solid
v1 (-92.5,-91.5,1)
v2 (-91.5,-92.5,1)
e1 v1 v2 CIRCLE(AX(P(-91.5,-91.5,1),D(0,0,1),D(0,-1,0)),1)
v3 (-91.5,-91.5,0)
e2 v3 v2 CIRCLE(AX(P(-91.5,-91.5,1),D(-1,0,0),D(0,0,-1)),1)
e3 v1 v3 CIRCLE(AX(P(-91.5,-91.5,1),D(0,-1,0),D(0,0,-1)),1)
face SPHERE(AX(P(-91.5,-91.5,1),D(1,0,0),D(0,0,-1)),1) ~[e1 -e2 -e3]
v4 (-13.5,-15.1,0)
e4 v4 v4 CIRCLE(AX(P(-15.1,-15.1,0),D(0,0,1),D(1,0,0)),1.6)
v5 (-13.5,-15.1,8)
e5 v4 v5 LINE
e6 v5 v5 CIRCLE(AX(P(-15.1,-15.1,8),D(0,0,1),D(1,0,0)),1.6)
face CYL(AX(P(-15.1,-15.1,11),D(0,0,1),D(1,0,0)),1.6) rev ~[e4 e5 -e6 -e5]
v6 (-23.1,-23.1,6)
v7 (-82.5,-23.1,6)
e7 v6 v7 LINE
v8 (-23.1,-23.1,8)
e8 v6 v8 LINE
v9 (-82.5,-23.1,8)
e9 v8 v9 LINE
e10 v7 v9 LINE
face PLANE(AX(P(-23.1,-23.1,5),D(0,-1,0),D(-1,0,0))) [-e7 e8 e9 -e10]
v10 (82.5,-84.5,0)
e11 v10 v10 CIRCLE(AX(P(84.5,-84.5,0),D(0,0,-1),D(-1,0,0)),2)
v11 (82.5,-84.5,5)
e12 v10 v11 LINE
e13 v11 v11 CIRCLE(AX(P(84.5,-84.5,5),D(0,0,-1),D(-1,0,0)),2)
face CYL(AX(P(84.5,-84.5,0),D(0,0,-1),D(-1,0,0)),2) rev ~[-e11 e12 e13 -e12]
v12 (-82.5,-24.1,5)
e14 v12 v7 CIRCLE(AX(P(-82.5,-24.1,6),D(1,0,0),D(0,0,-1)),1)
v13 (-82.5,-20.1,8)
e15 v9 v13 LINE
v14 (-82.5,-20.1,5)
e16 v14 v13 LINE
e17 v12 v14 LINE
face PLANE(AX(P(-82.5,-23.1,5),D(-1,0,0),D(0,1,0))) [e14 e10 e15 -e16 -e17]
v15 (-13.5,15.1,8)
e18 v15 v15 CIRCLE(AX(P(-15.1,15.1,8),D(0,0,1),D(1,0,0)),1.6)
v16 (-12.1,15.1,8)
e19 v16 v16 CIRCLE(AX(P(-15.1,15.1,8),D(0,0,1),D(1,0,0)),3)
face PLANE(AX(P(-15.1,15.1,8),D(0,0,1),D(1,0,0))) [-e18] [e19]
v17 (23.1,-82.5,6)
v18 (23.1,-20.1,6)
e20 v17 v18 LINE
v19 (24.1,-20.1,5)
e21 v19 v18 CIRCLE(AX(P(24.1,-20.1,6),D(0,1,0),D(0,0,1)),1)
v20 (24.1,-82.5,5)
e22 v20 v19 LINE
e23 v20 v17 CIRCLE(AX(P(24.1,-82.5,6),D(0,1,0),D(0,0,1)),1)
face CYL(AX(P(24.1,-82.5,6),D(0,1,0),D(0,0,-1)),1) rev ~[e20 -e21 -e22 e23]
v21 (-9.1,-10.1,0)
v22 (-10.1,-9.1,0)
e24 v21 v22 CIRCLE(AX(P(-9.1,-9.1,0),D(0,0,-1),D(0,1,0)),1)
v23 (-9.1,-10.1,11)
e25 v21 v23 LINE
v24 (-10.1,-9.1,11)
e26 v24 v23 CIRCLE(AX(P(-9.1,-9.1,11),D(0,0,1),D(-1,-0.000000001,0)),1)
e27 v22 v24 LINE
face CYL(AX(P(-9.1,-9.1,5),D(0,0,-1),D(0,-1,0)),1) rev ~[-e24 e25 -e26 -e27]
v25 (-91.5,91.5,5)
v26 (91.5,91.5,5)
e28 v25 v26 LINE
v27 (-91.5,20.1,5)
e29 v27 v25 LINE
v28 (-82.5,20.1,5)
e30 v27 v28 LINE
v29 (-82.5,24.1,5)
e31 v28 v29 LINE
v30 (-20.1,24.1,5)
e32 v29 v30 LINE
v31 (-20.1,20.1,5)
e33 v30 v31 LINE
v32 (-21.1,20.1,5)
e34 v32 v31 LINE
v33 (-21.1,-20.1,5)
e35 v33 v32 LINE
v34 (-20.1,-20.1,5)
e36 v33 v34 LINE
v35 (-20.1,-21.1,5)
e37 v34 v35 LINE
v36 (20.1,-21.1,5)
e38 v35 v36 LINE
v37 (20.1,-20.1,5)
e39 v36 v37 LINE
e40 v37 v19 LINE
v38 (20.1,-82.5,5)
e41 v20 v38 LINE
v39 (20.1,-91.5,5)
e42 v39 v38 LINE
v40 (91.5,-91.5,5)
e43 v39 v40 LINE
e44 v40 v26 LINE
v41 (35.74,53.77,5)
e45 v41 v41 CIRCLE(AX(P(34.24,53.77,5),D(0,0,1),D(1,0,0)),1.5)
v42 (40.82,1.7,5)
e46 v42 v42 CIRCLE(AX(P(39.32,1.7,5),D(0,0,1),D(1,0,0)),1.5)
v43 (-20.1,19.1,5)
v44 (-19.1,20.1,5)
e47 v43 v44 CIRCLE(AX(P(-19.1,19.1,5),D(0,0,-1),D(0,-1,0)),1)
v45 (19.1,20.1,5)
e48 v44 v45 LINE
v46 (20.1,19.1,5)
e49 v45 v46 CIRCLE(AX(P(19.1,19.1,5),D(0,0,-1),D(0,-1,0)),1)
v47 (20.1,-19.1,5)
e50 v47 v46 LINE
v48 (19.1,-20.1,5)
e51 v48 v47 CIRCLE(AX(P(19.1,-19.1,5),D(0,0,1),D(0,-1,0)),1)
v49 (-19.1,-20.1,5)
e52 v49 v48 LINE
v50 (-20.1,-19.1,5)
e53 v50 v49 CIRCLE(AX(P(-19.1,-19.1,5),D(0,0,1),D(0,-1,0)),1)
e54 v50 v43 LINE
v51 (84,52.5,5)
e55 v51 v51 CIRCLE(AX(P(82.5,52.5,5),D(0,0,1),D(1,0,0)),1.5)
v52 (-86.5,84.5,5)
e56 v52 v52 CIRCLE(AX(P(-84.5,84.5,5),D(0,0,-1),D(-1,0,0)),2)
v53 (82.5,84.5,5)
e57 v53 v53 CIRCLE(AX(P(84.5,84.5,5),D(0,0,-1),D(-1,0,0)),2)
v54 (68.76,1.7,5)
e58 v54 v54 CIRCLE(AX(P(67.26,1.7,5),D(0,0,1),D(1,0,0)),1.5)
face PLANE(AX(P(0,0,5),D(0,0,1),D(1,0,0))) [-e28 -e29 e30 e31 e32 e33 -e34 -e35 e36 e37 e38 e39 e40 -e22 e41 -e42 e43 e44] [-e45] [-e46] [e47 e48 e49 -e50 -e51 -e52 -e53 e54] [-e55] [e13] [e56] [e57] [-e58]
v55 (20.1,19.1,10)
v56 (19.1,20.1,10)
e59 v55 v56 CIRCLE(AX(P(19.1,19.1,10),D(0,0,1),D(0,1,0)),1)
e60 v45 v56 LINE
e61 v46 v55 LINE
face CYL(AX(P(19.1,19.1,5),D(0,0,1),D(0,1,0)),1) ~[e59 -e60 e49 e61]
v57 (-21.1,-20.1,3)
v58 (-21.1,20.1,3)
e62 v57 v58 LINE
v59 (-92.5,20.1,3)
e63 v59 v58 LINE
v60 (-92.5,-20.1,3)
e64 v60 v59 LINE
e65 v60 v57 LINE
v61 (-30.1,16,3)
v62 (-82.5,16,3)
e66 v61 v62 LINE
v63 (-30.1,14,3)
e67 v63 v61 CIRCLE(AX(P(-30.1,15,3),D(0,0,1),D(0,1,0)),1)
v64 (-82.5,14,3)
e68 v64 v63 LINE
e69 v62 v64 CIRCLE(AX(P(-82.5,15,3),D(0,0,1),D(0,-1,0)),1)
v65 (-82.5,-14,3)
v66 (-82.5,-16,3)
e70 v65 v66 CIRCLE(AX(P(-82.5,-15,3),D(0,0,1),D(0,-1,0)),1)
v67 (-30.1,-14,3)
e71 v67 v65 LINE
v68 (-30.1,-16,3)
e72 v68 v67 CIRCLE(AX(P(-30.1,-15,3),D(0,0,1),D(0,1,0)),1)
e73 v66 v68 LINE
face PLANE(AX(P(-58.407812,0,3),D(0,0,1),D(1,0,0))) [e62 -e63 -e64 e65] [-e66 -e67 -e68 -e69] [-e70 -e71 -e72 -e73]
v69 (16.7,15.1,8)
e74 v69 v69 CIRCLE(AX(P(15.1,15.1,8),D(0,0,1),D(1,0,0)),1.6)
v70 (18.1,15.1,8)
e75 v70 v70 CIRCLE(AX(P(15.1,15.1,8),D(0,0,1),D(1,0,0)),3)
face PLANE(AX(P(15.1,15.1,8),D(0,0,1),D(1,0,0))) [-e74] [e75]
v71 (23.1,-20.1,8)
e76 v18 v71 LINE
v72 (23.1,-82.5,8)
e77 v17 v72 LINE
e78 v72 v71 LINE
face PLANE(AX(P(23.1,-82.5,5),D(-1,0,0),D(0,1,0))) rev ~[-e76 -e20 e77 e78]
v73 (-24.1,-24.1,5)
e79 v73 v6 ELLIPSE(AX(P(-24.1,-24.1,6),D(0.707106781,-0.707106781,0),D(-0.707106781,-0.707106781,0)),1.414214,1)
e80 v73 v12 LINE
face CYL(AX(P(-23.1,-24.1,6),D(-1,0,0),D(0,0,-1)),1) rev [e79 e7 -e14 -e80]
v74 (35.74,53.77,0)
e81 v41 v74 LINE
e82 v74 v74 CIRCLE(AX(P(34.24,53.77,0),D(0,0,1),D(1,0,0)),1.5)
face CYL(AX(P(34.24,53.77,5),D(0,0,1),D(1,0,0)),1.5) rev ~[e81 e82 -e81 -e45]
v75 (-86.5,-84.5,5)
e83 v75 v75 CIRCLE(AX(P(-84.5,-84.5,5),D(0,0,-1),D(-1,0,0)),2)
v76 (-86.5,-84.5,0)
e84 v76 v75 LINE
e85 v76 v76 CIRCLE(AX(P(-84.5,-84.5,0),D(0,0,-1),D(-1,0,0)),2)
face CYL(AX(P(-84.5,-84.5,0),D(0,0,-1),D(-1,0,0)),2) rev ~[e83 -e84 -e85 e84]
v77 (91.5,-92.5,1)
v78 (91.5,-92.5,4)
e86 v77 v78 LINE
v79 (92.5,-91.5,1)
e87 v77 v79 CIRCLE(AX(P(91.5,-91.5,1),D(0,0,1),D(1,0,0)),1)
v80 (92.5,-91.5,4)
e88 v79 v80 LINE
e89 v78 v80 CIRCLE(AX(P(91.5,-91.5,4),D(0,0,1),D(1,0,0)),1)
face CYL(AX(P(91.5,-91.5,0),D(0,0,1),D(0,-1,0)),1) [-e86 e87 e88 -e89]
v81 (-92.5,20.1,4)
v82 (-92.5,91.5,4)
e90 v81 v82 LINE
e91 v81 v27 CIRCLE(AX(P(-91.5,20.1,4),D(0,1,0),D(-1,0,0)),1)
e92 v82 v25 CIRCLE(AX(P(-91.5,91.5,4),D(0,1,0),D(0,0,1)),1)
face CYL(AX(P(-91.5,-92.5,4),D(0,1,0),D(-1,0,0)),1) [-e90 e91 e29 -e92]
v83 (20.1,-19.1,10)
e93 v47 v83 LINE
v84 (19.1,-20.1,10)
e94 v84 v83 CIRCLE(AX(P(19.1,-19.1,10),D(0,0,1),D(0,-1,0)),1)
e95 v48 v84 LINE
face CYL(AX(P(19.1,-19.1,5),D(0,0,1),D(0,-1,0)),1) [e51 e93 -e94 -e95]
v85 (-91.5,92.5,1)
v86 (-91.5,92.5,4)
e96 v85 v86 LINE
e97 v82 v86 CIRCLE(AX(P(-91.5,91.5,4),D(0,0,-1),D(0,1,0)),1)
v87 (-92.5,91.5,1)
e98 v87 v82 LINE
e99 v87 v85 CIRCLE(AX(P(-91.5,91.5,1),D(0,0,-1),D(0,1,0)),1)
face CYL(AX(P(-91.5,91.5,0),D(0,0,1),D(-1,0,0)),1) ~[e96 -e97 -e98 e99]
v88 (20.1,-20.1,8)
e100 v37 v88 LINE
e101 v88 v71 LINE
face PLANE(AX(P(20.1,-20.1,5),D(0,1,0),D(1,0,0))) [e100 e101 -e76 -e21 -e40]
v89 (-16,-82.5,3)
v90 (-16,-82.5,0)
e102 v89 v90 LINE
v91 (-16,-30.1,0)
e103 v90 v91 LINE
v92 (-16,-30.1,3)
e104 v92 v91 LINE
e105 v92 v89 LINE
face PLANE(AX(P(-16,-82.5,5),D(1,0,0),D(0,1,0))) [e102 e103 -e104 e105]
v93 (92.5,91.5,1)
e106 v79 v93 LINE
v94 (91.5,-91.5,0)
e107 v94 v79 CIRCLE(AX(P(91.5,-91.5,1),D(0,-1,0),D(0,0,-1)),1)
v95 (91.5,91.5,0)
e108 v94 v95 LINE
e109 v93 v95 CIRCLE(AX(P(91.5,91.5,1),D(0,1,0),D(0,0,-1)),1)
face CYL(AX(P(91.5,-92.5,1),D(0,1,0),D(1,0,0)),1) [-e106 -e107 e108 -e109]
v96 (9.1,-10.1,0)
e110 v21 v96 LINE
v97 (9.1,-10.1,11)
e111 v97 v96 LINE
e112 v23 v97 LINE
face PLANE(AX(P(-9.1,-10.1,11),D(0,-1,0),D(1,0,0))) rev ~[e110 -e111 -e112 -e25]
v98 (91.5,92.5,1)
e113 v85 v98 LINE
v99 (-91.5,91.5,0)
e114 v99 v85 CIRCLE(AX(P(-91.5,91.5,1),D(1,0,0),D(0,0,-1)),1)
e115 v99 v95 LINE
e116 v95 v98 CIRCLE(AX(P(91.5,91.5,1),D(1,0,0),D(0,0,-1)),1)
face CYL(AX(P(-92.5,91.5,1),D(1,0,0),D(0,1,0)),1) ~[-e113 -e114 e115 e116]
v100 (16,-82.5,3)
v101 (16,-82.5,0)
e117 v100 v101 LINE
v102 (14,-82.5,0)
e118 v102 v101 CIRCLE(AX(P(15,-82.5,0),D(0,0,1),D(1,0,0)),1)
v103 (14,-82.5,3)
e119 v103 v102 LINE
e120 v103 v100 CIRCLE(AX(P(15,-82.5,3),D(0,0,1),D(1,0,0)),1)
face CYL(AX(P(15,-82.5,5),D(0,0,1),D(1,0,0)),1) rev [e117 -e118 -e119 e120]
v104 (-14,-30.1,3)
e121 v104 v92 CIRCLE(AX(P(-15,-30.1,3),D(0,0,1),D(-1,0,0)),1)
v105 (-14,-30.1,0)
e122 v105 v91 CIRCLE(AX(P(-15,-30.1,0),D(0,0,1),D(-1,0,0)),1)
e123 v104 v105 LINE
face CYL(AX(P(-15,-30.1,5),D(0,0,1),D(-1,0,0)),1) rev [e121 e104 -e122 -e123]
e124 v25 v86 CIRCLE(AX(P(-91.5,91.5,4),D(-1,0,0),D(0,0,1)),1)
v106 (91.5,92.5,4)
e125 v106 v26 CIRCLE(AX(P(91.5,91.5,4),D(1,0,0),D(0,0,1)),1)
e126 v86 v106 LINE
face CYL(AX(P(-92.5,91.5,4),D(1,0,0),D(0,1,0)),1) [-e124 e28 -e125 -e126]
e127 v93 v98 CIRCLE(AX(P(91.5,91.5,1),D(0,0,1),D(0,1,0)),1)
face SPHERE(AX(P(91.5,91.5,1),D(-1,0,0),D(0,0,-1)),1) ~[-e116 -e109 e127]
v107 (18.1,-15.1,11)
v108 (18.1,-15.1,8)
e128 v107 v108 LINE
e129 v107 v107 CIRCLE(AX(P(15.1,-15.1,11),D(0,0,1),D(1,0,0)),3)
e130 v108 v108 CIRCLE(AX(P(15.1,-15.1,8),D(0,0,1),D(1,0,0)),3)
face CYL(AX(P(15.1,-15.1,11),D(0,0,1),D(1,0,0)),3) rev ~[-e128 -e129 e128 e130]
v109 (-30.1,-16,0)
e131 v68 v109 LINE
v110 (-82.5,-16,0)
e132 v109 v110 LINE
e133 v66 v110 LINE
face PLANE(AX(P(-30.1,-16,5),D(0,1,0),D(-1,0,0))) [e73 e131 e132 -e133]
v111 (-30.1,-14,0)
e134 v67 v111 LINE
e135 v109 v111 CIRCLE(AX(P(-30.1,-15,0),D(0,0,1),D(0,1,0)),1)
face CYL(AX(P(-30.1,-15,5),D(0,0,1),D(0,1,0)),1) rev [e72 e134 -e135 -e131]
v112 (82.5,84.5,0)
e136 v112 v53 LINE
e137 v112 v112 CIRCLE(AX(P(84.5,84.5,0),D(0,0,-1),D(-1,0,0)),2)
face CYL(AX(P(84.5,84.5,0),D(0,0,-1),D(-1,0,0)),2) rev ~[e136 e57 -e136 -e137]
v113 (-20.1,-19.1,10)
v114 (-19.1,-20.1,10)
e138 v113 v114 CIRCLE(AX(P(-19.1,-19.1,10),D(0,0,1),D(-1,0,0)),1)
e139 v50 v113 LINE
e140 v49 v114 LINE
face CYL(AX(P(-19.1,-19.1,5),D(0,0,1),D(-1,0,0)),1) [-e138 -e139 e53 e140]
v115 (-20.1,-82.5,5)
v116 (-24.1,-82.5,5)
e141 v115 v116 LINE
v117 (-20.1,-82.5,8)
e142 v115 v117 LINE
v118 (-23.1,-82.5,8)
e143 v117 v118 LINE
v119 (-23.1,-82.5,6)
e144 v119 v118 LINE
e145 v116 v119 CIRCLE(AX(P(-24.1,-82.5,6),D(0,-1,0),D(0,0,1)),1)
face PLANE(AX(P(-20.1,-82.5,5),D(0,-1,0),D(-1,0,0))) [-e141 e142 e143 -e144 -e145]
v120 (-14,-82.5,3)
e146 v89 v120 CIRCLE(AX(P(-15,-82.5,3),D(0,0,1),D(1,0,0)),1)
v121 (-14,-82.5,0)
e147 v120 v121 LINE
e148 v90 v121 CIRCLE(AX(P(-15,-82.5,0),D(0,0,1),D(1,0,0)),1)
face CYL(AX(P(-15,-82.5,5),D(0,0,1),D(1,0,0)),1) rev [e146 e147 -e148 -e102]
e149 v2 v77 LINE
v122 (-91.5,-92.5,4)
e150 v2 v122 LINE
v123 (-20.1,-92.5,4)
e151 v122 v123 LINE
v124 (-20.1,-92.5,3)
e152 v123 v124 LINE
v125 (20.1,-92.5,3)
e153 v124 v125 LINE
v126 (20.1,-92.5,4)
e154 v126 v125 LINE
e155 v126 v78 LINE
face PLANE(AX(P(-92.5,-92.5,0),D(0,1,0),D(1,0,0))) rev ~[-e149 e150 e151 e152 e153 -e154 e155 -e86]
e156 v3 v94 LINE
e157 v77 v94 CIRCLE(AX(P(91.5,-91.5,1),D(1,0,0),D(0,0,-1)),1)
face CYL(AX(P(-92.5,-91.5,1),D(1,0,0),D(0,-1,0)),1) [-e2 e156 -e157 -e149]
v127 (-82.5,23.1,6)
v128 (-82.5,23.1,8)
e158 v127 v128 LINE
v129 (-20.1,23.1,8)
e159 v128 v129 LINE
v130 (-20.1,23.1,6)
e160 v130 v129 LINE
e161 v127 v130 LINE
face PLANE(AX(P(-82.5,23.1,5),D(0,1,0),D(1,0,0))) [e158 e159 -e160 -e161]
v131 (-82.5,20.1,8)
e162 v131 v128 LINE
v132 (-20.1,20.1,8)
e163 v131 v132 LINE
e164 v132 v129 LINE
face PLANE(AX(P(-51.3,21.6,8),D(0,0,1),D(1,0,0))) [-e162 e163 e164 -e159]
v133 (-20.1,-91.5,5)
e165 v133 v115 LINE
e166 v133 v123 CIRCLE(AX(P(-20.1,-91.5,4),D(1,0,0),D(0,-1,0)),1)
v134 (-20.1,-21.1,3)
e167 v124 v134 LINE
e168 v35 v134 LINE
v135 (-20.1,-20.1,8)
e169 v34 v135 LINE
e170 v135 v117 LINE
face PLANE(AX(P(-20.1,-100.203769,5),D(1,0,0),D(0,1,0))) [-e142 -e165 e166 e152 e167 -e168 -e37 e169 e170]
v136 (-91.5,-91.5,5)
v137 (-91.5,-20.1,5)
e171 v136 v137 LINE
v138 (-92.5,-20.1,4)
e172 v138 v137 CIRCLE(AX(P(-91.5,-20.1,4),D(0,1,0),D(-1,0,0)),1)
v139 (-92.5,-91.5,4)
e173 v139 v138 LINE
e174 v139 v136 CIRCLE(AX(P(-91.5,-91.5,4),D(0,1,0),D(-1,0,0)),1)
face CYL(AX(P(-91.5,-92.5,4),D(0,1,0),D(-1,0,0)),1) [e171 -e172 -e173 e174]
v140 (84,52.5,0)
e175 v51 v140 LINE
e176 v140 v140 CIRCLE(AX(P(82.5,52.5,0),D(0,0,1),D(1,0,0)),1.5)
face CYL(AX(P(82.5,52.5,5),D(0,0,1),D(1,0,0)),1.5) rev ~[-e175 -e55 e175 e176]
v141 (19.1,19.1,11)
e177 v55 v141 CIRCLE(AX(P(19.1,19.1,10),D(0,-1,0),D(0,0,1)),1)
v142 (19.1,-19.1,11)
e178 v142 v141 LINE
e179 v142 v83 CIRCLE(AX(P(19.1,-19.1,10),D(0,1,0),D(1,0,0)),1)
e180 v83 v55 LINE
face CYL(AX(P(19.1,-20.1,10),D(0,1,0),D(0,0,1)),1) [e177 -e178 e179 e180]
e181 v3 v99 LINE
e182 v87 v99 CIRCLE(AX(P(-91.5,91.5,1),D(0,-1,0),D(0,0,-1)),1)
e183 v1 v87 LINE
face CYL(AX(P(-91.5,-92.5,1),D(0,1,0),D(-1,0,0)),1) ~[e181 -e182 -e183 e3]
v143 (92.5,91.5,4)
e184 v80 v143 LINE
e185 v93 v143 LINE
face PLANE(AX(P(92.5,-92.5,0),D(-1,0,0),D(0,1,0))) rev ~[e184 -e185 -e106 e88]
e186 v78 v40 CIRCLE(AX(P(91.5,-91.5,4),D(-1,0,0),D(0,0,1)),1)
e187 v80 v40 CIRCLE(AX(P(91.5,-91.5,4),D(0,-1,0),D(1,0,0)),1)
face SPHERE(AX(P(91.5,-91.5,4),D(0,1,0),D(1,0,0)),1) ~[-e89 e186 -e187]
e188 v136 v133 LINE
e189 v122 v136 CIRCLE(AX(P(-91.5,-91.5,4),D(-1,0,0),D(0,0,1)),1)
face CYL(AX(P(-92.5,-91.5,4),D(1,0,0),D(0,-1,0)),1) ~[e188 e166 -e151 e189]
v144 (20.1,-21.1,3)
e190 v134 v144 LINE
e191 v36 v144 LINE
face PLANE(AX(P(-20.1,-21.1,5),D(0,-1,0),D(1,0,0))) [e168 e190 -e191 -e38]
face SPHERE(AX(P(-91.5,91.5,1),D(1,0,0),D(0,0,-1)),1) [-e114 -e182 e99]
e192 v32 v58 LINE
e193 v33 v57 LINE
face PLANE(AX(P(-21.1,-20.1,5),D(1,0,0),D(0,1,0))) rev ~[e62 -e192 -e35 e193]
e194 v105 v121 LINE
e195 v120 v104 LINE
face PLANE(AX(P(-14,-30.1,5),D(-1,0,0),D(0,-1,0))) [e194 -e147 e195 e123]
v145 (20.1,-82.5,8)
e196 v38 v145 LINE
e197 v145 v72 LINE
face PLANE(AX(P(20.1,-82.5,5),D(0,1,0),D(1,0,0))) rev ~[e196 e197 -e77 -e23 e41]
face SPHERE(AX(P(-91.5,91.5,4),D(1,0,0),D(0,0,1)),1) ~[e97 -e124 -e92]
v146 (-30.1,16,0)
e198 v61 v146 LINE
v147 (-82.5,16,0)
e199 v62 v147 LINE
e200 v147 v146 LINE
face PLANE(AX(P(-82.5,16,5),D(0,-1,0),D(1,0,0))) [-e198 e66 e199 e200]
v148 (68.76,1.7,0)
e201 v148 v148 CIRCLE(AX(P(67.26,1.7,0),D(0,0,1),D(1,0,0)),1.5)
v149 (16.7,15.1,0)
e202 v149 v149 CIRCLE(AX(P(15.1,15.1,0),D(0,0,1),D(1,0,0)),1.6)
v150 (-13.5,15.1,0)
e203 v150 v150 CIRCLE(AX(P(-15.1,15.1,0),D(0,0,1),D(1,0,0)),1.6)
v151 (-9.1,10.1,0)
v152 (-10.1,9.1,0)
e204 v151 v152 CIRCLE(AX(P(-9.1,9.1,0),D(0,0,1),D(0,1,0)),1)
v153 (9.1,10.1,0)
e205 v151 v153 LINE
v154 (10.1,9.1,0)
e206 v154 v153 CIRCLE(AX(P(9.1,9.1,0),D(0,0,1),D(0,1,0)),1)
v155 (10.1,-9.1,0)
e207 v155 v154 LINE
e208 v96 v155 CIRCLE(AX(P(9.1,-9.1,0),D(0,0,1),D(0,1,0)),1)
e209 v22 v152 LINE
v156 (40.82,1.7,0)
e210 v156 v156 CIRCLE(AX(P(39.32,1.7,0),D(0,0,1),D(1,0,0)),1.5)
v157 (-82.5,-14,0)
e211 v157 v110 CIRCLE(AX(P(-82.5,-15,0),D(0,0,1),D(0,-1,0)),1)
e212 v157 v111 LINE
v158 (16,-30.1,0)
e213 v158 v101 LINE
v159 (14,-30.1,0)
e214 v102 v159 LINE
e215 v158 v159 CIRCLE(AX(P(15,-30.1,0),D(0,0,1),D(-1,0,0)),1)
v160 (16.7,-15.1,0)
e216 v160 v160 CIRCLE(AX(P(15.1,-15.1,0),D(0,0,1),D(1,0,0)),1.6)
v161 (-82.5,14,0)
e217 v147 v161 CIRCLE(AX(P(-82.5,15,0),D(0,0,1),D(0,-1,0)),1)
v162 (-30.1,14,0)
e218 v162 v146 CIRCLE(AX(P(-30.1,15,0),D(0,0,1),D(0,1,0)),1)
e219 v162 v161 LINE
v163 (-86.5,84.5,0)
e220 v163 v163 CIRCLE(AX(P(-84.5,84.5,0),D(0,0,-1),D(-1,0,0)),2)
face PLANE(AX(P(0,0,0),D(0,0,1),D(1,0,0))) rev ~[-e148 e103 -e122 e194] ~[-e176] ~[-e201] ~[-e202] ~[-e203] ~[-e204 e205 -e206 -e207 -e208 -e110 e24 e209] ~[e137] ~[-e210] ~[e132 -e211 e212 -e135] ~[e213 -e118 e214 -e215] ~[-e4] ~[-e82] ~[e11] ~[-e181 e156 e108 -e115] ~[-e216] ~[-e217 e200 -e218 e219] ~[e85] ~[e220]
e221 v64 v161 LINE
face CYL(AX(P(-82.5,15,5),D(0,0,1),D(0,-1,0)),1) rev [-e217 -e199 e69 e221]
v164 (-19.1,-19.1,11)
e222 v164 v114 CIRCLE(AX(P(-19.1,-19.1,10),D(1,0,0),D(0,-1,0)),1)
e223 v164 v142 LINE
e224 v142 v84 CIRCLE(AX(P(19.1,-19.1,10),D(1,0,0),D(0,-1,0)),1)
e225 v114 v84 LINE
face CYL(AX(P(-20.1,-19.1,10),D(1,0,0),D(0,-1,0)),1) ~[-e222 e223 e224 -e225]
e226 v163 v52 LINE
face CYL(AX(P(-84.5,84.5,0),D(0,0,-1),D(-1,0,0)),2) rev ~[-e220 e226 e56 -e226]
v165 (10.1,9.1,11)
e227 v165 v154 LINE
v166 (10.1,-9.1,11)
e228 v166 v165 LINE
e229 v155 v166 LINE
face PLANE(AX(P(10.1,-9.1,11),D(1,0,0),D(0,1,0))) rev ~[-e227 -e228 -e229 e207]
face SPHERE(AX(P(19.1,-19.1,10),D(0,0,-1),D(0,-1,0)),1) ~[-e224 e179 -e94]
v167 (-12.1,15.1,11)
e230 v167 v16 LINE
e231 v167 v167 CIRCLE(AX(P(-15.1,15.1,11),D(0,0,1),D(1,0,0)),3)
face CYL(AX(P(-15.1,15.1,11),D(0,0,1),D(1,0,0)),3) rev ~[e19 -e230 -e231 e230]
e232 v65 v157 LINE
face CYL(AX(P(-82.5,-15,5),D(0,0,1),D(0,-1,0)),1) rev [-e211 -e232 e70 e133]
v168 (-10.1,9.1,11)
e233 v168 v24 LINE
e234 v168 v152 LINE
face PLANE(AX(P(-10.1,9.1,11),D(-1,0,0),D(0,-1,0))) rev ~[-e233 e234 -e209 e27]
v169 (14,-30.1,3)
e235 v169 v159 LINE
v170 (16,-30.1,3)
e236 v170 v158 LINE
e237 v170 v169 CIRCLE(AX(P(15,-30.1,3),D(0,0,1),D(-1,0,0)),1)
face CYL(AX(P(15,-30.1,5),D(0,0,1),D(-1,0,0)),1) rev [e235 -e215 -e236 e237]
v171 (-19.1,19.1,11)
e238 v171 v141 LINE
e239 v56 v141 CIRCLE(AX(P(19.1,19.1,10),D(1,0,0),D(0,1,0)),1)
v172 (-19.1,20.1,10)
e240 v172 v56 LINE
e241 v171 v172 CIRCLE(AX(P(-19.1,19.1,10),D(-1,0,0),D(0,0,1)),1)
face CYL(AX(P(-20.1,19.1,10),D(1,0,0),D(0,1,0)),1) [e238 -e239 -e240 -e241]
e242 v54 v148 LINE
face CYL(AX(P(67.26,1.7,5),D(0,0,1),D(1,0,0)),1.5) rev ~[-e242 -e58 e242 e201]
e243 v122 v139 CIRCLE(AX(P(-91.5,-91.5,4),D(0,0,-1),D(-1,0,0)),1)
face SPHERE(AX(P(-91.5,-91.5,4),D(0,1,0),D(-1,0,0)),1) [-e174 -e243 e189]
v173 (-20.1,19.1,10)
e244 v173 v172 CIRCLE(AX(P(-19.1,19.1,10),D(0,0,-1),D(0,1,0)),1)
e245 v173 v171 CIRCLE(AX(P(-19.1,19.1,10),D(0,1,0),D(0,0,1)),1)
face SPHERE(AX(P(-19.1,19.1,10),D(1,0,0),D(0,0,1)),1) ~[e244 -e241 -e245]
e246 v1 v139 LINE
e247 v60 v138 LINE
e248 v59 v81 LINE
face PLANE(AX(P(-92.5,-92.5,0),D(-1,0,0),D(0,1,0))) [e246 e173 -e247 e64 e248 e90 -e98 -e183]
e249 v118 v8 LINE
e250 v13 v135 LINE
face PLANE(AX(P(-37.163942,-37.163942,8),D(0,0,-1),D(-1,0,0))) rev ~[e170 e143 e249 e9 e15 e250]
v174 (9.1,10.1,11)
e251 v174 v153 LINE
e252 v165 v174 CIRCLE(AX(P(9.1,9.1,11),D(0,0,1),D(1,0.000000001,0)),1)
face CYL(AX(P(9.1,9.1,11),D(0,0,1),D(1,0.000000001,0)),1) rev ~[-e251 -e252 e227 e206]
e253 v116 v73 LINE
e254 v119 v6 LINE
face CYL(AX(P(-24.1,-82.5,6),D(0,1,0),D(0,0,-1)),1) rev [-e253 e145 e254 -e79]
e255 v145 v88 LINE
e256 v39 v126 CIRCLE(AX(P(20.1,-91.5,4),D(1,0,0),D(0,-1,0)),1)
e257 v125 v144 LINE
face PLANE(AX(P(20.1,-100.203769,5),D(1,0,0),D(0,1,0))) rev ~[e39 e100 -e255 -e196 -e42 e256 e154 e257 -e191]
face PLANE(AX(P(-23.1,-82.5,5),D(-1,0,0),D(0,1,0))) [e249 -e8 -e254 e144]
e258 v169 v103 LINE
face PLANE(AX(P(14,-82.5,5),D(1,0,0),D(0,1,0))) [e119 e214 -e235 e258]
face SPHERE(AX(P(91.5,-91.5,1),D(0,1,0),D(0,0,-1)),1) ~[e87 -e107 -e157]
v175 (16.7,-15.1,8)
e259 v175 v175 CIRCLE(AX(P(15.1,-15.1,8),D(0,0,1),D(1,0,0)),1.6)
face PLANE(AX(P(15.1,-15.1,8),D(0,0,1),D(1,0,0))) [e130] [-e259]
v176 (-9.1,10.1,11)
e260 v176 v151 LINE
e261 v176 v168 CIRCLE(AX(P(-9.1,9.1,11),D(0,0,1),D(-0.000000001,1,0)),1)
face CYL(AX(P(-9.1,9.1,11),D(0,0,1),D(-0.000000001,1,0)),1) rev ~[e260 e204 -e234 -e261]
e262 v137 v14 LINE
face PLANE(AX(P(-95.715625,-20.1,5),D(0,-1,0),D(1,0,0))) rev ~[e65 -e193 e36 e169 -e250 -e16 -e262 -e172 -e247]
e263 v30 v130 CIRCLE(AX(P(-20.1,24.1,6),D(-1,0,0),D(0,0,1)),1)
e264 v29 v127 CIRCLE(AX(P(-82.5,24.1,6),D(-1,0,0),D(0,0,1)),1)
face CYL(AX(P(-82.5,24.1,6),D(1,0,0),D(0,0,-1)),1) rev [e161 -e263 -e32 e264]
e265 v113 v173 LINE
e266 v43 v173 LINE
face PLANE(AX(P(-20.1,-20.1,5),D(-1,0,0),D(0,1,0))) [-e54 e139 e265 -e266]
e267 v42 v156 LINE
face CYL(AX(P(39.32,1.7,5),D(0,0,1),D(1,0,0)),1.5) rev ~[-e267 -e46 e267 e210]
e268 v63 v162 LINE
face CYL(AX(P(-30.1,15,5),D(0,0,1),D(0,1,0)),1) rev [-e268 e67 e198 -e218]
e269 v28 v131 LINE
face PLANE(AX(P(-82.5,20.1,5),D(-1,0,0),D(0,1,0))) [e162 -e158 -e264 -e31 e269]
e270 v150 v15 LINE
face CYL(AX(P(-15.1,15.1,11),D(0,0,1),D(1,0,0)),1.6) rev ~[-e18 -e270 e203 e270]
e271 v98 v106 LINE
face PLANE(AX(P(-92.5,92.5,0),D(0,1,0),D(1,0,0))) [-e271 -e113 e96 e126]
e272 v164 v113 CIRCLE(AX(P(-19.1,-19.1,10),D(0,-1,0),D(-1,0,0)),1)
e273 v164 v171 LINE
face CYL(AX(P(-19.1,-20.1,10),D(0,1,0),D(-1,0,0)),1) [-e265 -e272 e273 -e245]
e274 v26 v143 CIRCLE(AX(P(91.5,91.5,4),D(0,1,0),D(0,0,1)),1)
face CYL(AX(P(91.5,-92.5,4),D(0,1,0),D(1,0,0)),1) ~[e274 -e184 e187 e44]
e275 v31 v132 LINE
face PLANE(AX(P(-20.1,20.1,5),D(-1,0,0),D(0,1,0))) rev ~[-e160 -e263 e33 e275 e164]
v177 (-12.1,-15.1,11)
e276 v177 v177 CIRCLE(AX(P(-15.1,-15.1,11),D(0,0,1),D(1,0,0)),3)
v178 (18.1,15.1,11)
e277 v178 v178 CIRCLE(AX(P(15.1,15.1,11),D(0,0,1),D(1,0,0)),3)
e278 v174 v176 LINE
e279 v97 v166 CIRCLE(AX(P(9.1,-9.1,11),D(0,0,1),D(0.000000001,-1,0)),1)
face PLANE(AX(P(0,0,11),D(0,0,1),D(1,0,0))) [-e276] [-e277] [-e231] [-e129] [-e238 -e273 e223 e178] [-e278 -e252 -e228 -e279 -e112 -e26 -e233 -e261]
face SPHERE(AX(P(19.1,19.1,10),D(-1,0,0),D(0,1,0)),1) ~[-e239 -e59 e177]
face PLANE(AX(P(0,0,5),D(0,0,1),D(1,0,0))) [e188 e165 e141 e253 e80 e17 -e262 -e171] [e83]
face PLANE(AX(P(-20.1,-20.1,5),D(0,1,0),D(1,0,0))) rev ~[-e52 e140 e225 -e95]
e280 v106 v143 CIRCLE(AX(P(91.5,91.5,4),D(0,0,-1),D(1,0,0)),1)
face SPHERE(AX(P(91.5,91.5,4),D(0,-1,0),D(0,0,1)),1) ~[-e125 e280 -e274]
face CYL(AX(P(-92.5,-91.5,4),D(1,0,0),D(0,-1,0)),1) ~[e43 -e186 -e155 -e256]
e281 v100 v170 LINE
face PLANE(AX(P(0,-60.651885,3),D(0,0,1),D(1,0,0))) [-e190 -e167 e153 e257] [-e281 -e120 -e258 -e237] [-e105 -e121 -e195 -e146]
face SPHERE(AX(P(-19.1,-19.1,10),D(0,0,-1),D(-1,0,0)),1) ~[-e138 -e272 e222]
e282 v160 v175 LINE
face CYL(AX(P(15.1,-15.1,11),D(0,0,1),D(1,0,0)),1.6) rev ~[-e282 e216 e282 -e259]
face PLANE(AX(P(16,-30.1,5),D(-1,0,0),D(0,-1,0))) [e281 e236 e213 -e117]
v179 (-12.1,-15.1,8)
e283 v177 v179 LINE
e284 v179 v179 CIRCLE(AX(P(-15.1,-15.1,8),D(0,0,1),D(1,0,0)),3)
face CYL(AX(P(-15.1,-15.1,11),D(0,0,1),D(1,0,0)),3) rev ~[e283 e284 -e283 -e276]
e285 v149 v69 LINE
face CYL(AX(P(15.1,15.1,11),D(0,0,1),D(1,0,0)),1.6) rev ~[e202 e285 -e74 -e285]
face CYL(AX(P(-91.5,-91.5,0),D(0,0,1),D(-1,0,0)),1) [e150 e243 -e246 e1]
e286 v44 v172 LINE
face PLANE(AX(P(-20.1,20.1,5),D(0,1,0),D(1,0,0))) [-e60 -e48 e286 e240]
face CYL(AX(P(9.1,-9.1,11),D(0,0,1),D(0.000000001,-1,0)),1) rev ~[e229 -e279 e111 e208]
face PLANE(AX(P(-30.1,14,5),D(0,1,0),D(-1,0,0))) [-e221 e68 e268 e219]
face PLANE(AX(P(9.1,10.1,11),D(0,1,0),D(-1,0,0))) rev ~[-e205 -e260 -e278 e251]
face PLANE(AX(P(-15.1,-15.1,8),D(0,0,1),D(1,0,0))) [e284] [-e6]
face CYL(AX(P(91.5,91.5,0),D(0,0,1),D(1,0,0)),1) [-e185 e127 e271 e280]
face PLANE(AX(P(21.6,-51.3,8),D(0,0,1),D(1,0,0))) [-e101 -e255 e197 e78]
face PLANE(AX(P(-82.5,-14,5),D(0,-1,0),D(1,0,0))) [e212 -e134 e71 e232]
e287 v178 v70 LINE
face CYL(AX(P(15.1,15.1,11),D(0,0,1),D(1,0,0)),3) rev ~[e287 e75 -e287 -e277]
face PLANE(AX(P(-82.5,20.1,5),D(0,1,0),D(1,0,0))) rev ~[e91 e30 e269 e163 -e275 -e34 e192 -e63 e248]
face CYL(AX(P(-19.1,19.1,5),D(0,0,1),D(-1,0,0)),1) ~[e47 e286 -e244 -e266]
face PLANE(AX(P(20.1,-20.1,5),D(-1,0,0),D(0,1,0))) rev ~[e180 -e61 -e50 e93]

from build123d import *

# Parameters (mm, degrees)
ESQUISSE1_W                  = 185
ESQUISSE1_H                  = 185
BOSS_EXTRU_1_DEPTH           = 5
CONG_1_R                     = 1
ENL_V_MAT_EXTRU_4_REACH      = 7
ESQUISSE9_R                  = 2
ESQUISSE4_R                  = 1.6
ESQUISSE4_W                  = 20.2
ESQUISSE4_H                  = 20.2
ENL_V_MAT_EXTRU_5_DEPTH      = 1
ENL_V_MAT_EXTRU_5_DEPTH_BACK = 6
ESQUISSE11_W                 = 40.2
ESQUISSE11_H                 = 40.2
BOSS_EXTRU_3_DEPTH           = 6
CONG_2_R                     = 1
ESQUISSE12_R                 = 1.6
ENL_V_MAT_EXTRU_6_DEPTH      = 12
ESQUISSE13_R                 = 3
ENL_V_MAT_EXTRU_7_DEPTH      = 3
ENL_V_MAT_EXTRU_8_DEPTH      = 6
ESQUISSE15_W                 = 62.4
ESQUISSE15_H                 = 3
ESQUISSE15_W_2               = 3
ESQUISSE15_H_2               = 62.4
BOSS_EXTRU_4_DEPTH           = 3
CONG_3_R                     = 1
ESQUISSE20_R                 = 1.5
ENL_V_MAT_EXTRU_12_DEPTH     = 10
ESQUISSE21_W                 = 74.615624907
ESQUISSE21_H                 = 40.2
ENL_V_MAT_EXTRU_13_DEPTH     = 2
ESQUISSE22_W                 = 40.2
ESQUISSE22_H                 = 79.103769468
ENL_V_MAT_EXTRU_20_DEPTH     = 2


with BuildPart() as part:
    # Esquisse1 → Boss.-Extru.1 (new body)
    with BuildSketch(Plane.XY):
        Rectangle(ESQUISSE1_W, ESQUISSE1_H)
    extrude(amount=BOSS_EXTRU_1_DEPTH)

    # Congé1
    cong_1_edges = [part.edges().sort_by_distance(p)[0] for p in [
        (92.5, 0, 5),
        (0, 92.5, 5),
        (-92.5, 0, 5),
        (0, 92.5, 0),
        (92.5, 0, 0),
        (0, -92.5, 0),
        (-92.5, 0, 0),
        (-92.5, 92.5, 2.5),
        (92.5, 92.5, 2.5),
        (92.5, -92.5, 2.5),
        (-92.5, -92.5, 2.5),
        (0, -92.5, 5),
    ]]
    fillet(cong_1_edges, radius=CONG_1_R)

    # Esquisse9 → Enlèv. mat.-Extru.4 (cut, up to next)
    with BuildSketch(Plane(origin=(0, 0, 0), x_dir=(-1, 0, 0), z_dir=(0, 0, -1)), mode=Mode.PRIVATE) as enl_v_mat_extru_4_sk1:
        with Locations((-84.5, 84.5)):
            Circle(ESQUISSE9_R)
    enl_v_mat_extru_4_tool1 = extrude(enl_v_mat_extru_4_sk1.sketch, amount=-ENL_V_MAT_EXTRU_4_REACH, mode=Mode.PRIVATE) & part.part
    add(enl_v_mat_extru_4_tool1.solids().sort_by_distance((84.5, 84.5, 0))[0], mode=Mode.SUBTRACT)
    # Esquisse9 → Enlèv. mat.-Extru.4 (cut, up to next)
    with BuildSketch(Plane(origin=(0, 0, 0), x_dir=(-1, 0, 0), z_dir=(0, 0, -1)), mode=Mode.PRIVATE) as enl_v_mat_extru_4_sk2:
        with Locations((84.5, 84.5)):
            Circle(ESQUISSE9_R)
    enl_v_mat_extru_4_tool2 = extrude(enl_v_mat_extru_4_sk2.sketch, amount=-ENL_V_MAT_EXTRU_4_REACH, mode=Mode.PRIVATE) & part.part
    add(enl_v_mat_extru_4_tool2.solids().sort_by_distance((-84.5, 84.5, 0))[0], mode=Mode.SUBTRACT)
    # Esquisse9 → Enlèv. mat.-Extru.4 (cut, up to next)
    with BuildSketch(Plane(origin=(0, 0, 0), x_dir=(-1, 0, 0), z_dir=(0, 0, -1)), mode=Mode.PRIVATE) as enl_v_mat_extru_4_sk3:
        with Locations((84.5, -84.5)):
            Circle(ESQUISSE9_R)
    enl_v_mat_extru_4_tool3 = extrude(enl_v_mat_extru_4_sk3.sketch, amount=-ENL_V_MAT_EXTRU_4_REACH, mode=Mode.PRIVATE) & part.part
    add(enl_v_mat_extru_4_tool3.solids().sort_by_distance((-84.5, -84.5, 0))[0], mode=Mode.SUBTRACT)
    # Esquisse9 → Enlèv. mat.-Extru.4 (cut, up to next)
    with BuildSketch(Plane(origin=(0, 0, 0), x_dir=(-1, 0, 0), z_dir=(0, 0, -1)), mode=Mode.PRIVATE) as enl_v_mat_extru_4_sk4:
        with Locations((-84.5, -84.5)):
            Circle(ESQUISSE9_R)
    enl_v_mat_extru_4_tool4 = extrude(enl_v_mat_extru_4_sk4.sketch, amount=-ENL_V_MAT_EXTRU_4_REACH, mode=Mode.PRIVATE) & part.part
    add(enl_v_mat_extru_4_tool4.solids().sort_by_distance((84.5, -84.5, 0))[0], mode=Mode.SUBTRACT)

    # Esquisse4 → Enlèv. mat.-Extru.5 (cut, two sides)
    with BuildSketch(Plane.XY.offset(5)) as enl_v_mat_extru_5_sk:
        with Locations((-15.1, 15.1)):
            Circle(ESQUISSE4_R)
        with Locations((15.1, 15.1)):
            Circle(ESQUISSE4_R)
        with Locations((15.1, -15.1)):
            Circle(ESQUISSE4_R)
        with Locations((-15.1, -15.1)):
            Circle(ESQUISSE4_R)
        Rectangle(ESQUISSE4_W, ESQUISSE4_H)
    extrude(amount=ENL_V_MAT_EXTRU_5_DEPTH, mode=Mode.SUBTRACT)
    extrude(enl_v_mat_extru_5_sk.sketch, amount=-ENL_V_MAT_EXTRU_5_DEPTH_BACK, mode=Mode.SUBTRACT)

    # Esquisse11 → Boss.-Extru.3 (add)
    with BuildSketch(Plane.XY.offset(5)):
        Rectangle(ESQUISSE11_W, ESQUISSE11_H)
    extrude(amount=BOSS_EXTRU_3_DEPTH)

    # Congé2
    cong_2_edges = [part.edges().sort_by_distance(p)[0] for p in [
        (-20.1, -20.1, 8),
        (20.1, -20.1, 8),
        (0, 20.1, 11),
        (20.1, 20.1, 8),
        (-20.1, 0, 11),
        (-20.1, 20.1, 8),
        (0, -20.1, 11),
        (20.1, 0, 11),
        (-10.1, -10.1, 2.5),
        (-10.1, 10.1, 2.5),
        (10.1, 10.1, 2.5),
        (10.1, -10.1, 2.5),
    ]]
    fillet(cong_2_edges, radius=CONG_2_R)

    # Esquisse12 → Enlèv. mat.-Extru.6 (cut, through all)
    with BuildSketch(Plane.XY.offset(11)):
        with BuildLine():
            Line((10.1, -9.1), (10.1, 9.1))
            ThreePointArc((10.1, 9.1), (9.807106781, 9.807106781), (9.1, 10.1))
            Line((9.1, 10.1), (-9.1, 10.1))
            ThreePointArc((-9.1, 10.1), (-9.807106781, 9.807106781), (-10.1, 9.1))
            Line((-10.1, 9.1), (-10.1, -9.1))
            ThreePointArc((-10.1, -9.1), (-9.807106781, -9.807106781), (-9.1, -10.1))
            Line((-9.1, -10.1), (9.1, -10.1))
            ThreePointArc((9.1, -10.1), (9.807106781, -9.807106781), (10.1, -9.1))
        make_face()
        with Locations((15.1, 15.1)):
            Circle(ESQUISSE12_R)
        with Locations((-15.1, 15.1)):
            Circle(ESQUISSE12_R)
        with Locations((15.1, -15.1)):
            Circle(ESQUISSE12_R)
        with Locations((-15.1, -15.1)):
            Circle(ESQUISSE12_R)
    extrude(amount=-ENL_V_MAT_EXTRU_6_DEPTH, mode=Mode.SUBTRACT)

    # Esquisse13 → Enlèv. mat.-Extru.7 (cut)
    with BuildSketch(Plane.XY.offset(11)):
        with Locations((-15.1, 15.1)):
            Circle(ESQUISSE13_R)
        with Locations((15.1, 15.1)):
            Circle(ESQUISSE13_R)
        with Locations((15.1, -15.1)):
            Circle(ESQUISSE13_R)
        with Locations((-15.1, -15.1)):
            Circle(ESQUISSE13_R)
    extrude(amount=-ENL_V_MAT_EXTRU_7_DEPTH, mode=Mode.SUBTRACT)

    # Esquisse14 → Enlèv. mat.-Extru.8 (cut, through all)
    with BuildSketch(Plane.XY.offset(5)):
        with BuildLine():
            Line((-82.5, 16), (-30.1, 16))
            ThreePointArc((-30.1, 16), (-29.1, 15), (-30.1, 14))
            Line((-30.1, 14), (-82.5, 14))
            ThreePointArc((-82.5, 14), (-83.5, 15), (-82.5, 16))
        make_face()
        with BuildLine():
            Line((-30.1, -16), (-82.5, -16))
            ThreePointArc((-82.5, -16), (-83.5, -15), (-82.5, -14))
            Line((-82.5, -14), (-30.1, -14))
            ThreePointArc((-30.1, -14), (-29.1, -15), (-30.1, -16))
        make_face()
        with BuildLine():
            Line((16, -30.1), (16, -82.5))
            ThreePointArc((16, -82.5), (15, -83.5), (14, -82.5))
            Line((14, -82.5), (14, -30.1))
            ThreePointArc((14, -30.1), (15, -29.1), (16, -30.1))
        make_face()
        with BuildLine():
            Line((-16, -82.5), (-16, -30.1))
            ThreePointArc((-16, -30.1), (-15, -29.1), (-14, -30.1))
            Line((-14, -30.1), (-14, -82.5))
            ThreePointArc((-14, -82.5), (-15, -83.5), (-16, -82.5))
        make_face()
    extrude(amount=-ENL_V_MAT_EXTRU_8_DEPTH, mode=Mode.SUBTRACT)

    # Esquisse15 → Boss.-Extru.4 (add)
    with BuildSketch(Plane.XY.offset(5)):
        Polygon((-20.1, -20.1), (-20.1, -82.5), (-23.1, -82.5), (-23.1, -23.1), (-82.5, -23.1), (-82.5, -20.1), align=None)
        with Locations((-51.3, 21.6)):
            Rectangle(ESQUISSE15_W, ESQUISSE15_H)
        with Locations((21.6, -51.3)):
            Rectangle(ESQUISSE15_W_2, ESQUISSE15_H_2)
    extrude(amount=BOSS_EXTRU_4_DEPTH)

    # Congé3
    cong_3_edges = [part.edges().sort_by_distance(p)[0] for p in [
        (-51.3, 23.1, 5),
        (-52.8, -23.1, 5),
        (-23.1, -52.8, 5),
        (23.1, -51.3, 5),
    ]]
    fillet(cong_3_edges, radius=CONG_3_R)

    # Esquisse20 → Enlèv. mat.-Extru.12 (cut)
    with BuildSketch(Plane.XY.offset(5)):
        with Locations((39.32, 1.7)):
            Circle(ESQUISSE20_R)
        with Locations((34.24, 53.77)):
            Circle(ESQUISSE20_R)
        with Locations((82.5, 52.5)):
            Circle(ESQUISSE20_R)
        with Locations((67.26, 1.7)):
            Circle(ESQUISSE20_R)
    extrude(amount=-ENL_V_MAT_EXTRU_12_DEPTH, mode=Mode.SUBTRACT)

    # Esquisse21 → Enlèv. mat.-Extru.13 (cut)
    with BuildSketch(Plane.XY.offset(5)):
        with Locations((-58.407812454, 0)):
            Rectangle(ESQUISSE21_W, ESQUISSE21_H)
    extrude(amount=-ENL_V_MAT_EXTRU_13_DEPTH, mode=Mode.SUBTRACT)

    # Esquisse22 → Enlèv. mat.-Extru.20 (cut)
    with BuildSketch(Plane.XY.offset(5)):
        with Locations((0, -60.651884734)):
            Rectangle(ESQUISSE22_W, ESQUISSE22_H)
    extrude(amount=-ENL_V_MAT_EXTRU_20_DEPTH, mode=Mode.SUBTRACT)


solid = part.part
